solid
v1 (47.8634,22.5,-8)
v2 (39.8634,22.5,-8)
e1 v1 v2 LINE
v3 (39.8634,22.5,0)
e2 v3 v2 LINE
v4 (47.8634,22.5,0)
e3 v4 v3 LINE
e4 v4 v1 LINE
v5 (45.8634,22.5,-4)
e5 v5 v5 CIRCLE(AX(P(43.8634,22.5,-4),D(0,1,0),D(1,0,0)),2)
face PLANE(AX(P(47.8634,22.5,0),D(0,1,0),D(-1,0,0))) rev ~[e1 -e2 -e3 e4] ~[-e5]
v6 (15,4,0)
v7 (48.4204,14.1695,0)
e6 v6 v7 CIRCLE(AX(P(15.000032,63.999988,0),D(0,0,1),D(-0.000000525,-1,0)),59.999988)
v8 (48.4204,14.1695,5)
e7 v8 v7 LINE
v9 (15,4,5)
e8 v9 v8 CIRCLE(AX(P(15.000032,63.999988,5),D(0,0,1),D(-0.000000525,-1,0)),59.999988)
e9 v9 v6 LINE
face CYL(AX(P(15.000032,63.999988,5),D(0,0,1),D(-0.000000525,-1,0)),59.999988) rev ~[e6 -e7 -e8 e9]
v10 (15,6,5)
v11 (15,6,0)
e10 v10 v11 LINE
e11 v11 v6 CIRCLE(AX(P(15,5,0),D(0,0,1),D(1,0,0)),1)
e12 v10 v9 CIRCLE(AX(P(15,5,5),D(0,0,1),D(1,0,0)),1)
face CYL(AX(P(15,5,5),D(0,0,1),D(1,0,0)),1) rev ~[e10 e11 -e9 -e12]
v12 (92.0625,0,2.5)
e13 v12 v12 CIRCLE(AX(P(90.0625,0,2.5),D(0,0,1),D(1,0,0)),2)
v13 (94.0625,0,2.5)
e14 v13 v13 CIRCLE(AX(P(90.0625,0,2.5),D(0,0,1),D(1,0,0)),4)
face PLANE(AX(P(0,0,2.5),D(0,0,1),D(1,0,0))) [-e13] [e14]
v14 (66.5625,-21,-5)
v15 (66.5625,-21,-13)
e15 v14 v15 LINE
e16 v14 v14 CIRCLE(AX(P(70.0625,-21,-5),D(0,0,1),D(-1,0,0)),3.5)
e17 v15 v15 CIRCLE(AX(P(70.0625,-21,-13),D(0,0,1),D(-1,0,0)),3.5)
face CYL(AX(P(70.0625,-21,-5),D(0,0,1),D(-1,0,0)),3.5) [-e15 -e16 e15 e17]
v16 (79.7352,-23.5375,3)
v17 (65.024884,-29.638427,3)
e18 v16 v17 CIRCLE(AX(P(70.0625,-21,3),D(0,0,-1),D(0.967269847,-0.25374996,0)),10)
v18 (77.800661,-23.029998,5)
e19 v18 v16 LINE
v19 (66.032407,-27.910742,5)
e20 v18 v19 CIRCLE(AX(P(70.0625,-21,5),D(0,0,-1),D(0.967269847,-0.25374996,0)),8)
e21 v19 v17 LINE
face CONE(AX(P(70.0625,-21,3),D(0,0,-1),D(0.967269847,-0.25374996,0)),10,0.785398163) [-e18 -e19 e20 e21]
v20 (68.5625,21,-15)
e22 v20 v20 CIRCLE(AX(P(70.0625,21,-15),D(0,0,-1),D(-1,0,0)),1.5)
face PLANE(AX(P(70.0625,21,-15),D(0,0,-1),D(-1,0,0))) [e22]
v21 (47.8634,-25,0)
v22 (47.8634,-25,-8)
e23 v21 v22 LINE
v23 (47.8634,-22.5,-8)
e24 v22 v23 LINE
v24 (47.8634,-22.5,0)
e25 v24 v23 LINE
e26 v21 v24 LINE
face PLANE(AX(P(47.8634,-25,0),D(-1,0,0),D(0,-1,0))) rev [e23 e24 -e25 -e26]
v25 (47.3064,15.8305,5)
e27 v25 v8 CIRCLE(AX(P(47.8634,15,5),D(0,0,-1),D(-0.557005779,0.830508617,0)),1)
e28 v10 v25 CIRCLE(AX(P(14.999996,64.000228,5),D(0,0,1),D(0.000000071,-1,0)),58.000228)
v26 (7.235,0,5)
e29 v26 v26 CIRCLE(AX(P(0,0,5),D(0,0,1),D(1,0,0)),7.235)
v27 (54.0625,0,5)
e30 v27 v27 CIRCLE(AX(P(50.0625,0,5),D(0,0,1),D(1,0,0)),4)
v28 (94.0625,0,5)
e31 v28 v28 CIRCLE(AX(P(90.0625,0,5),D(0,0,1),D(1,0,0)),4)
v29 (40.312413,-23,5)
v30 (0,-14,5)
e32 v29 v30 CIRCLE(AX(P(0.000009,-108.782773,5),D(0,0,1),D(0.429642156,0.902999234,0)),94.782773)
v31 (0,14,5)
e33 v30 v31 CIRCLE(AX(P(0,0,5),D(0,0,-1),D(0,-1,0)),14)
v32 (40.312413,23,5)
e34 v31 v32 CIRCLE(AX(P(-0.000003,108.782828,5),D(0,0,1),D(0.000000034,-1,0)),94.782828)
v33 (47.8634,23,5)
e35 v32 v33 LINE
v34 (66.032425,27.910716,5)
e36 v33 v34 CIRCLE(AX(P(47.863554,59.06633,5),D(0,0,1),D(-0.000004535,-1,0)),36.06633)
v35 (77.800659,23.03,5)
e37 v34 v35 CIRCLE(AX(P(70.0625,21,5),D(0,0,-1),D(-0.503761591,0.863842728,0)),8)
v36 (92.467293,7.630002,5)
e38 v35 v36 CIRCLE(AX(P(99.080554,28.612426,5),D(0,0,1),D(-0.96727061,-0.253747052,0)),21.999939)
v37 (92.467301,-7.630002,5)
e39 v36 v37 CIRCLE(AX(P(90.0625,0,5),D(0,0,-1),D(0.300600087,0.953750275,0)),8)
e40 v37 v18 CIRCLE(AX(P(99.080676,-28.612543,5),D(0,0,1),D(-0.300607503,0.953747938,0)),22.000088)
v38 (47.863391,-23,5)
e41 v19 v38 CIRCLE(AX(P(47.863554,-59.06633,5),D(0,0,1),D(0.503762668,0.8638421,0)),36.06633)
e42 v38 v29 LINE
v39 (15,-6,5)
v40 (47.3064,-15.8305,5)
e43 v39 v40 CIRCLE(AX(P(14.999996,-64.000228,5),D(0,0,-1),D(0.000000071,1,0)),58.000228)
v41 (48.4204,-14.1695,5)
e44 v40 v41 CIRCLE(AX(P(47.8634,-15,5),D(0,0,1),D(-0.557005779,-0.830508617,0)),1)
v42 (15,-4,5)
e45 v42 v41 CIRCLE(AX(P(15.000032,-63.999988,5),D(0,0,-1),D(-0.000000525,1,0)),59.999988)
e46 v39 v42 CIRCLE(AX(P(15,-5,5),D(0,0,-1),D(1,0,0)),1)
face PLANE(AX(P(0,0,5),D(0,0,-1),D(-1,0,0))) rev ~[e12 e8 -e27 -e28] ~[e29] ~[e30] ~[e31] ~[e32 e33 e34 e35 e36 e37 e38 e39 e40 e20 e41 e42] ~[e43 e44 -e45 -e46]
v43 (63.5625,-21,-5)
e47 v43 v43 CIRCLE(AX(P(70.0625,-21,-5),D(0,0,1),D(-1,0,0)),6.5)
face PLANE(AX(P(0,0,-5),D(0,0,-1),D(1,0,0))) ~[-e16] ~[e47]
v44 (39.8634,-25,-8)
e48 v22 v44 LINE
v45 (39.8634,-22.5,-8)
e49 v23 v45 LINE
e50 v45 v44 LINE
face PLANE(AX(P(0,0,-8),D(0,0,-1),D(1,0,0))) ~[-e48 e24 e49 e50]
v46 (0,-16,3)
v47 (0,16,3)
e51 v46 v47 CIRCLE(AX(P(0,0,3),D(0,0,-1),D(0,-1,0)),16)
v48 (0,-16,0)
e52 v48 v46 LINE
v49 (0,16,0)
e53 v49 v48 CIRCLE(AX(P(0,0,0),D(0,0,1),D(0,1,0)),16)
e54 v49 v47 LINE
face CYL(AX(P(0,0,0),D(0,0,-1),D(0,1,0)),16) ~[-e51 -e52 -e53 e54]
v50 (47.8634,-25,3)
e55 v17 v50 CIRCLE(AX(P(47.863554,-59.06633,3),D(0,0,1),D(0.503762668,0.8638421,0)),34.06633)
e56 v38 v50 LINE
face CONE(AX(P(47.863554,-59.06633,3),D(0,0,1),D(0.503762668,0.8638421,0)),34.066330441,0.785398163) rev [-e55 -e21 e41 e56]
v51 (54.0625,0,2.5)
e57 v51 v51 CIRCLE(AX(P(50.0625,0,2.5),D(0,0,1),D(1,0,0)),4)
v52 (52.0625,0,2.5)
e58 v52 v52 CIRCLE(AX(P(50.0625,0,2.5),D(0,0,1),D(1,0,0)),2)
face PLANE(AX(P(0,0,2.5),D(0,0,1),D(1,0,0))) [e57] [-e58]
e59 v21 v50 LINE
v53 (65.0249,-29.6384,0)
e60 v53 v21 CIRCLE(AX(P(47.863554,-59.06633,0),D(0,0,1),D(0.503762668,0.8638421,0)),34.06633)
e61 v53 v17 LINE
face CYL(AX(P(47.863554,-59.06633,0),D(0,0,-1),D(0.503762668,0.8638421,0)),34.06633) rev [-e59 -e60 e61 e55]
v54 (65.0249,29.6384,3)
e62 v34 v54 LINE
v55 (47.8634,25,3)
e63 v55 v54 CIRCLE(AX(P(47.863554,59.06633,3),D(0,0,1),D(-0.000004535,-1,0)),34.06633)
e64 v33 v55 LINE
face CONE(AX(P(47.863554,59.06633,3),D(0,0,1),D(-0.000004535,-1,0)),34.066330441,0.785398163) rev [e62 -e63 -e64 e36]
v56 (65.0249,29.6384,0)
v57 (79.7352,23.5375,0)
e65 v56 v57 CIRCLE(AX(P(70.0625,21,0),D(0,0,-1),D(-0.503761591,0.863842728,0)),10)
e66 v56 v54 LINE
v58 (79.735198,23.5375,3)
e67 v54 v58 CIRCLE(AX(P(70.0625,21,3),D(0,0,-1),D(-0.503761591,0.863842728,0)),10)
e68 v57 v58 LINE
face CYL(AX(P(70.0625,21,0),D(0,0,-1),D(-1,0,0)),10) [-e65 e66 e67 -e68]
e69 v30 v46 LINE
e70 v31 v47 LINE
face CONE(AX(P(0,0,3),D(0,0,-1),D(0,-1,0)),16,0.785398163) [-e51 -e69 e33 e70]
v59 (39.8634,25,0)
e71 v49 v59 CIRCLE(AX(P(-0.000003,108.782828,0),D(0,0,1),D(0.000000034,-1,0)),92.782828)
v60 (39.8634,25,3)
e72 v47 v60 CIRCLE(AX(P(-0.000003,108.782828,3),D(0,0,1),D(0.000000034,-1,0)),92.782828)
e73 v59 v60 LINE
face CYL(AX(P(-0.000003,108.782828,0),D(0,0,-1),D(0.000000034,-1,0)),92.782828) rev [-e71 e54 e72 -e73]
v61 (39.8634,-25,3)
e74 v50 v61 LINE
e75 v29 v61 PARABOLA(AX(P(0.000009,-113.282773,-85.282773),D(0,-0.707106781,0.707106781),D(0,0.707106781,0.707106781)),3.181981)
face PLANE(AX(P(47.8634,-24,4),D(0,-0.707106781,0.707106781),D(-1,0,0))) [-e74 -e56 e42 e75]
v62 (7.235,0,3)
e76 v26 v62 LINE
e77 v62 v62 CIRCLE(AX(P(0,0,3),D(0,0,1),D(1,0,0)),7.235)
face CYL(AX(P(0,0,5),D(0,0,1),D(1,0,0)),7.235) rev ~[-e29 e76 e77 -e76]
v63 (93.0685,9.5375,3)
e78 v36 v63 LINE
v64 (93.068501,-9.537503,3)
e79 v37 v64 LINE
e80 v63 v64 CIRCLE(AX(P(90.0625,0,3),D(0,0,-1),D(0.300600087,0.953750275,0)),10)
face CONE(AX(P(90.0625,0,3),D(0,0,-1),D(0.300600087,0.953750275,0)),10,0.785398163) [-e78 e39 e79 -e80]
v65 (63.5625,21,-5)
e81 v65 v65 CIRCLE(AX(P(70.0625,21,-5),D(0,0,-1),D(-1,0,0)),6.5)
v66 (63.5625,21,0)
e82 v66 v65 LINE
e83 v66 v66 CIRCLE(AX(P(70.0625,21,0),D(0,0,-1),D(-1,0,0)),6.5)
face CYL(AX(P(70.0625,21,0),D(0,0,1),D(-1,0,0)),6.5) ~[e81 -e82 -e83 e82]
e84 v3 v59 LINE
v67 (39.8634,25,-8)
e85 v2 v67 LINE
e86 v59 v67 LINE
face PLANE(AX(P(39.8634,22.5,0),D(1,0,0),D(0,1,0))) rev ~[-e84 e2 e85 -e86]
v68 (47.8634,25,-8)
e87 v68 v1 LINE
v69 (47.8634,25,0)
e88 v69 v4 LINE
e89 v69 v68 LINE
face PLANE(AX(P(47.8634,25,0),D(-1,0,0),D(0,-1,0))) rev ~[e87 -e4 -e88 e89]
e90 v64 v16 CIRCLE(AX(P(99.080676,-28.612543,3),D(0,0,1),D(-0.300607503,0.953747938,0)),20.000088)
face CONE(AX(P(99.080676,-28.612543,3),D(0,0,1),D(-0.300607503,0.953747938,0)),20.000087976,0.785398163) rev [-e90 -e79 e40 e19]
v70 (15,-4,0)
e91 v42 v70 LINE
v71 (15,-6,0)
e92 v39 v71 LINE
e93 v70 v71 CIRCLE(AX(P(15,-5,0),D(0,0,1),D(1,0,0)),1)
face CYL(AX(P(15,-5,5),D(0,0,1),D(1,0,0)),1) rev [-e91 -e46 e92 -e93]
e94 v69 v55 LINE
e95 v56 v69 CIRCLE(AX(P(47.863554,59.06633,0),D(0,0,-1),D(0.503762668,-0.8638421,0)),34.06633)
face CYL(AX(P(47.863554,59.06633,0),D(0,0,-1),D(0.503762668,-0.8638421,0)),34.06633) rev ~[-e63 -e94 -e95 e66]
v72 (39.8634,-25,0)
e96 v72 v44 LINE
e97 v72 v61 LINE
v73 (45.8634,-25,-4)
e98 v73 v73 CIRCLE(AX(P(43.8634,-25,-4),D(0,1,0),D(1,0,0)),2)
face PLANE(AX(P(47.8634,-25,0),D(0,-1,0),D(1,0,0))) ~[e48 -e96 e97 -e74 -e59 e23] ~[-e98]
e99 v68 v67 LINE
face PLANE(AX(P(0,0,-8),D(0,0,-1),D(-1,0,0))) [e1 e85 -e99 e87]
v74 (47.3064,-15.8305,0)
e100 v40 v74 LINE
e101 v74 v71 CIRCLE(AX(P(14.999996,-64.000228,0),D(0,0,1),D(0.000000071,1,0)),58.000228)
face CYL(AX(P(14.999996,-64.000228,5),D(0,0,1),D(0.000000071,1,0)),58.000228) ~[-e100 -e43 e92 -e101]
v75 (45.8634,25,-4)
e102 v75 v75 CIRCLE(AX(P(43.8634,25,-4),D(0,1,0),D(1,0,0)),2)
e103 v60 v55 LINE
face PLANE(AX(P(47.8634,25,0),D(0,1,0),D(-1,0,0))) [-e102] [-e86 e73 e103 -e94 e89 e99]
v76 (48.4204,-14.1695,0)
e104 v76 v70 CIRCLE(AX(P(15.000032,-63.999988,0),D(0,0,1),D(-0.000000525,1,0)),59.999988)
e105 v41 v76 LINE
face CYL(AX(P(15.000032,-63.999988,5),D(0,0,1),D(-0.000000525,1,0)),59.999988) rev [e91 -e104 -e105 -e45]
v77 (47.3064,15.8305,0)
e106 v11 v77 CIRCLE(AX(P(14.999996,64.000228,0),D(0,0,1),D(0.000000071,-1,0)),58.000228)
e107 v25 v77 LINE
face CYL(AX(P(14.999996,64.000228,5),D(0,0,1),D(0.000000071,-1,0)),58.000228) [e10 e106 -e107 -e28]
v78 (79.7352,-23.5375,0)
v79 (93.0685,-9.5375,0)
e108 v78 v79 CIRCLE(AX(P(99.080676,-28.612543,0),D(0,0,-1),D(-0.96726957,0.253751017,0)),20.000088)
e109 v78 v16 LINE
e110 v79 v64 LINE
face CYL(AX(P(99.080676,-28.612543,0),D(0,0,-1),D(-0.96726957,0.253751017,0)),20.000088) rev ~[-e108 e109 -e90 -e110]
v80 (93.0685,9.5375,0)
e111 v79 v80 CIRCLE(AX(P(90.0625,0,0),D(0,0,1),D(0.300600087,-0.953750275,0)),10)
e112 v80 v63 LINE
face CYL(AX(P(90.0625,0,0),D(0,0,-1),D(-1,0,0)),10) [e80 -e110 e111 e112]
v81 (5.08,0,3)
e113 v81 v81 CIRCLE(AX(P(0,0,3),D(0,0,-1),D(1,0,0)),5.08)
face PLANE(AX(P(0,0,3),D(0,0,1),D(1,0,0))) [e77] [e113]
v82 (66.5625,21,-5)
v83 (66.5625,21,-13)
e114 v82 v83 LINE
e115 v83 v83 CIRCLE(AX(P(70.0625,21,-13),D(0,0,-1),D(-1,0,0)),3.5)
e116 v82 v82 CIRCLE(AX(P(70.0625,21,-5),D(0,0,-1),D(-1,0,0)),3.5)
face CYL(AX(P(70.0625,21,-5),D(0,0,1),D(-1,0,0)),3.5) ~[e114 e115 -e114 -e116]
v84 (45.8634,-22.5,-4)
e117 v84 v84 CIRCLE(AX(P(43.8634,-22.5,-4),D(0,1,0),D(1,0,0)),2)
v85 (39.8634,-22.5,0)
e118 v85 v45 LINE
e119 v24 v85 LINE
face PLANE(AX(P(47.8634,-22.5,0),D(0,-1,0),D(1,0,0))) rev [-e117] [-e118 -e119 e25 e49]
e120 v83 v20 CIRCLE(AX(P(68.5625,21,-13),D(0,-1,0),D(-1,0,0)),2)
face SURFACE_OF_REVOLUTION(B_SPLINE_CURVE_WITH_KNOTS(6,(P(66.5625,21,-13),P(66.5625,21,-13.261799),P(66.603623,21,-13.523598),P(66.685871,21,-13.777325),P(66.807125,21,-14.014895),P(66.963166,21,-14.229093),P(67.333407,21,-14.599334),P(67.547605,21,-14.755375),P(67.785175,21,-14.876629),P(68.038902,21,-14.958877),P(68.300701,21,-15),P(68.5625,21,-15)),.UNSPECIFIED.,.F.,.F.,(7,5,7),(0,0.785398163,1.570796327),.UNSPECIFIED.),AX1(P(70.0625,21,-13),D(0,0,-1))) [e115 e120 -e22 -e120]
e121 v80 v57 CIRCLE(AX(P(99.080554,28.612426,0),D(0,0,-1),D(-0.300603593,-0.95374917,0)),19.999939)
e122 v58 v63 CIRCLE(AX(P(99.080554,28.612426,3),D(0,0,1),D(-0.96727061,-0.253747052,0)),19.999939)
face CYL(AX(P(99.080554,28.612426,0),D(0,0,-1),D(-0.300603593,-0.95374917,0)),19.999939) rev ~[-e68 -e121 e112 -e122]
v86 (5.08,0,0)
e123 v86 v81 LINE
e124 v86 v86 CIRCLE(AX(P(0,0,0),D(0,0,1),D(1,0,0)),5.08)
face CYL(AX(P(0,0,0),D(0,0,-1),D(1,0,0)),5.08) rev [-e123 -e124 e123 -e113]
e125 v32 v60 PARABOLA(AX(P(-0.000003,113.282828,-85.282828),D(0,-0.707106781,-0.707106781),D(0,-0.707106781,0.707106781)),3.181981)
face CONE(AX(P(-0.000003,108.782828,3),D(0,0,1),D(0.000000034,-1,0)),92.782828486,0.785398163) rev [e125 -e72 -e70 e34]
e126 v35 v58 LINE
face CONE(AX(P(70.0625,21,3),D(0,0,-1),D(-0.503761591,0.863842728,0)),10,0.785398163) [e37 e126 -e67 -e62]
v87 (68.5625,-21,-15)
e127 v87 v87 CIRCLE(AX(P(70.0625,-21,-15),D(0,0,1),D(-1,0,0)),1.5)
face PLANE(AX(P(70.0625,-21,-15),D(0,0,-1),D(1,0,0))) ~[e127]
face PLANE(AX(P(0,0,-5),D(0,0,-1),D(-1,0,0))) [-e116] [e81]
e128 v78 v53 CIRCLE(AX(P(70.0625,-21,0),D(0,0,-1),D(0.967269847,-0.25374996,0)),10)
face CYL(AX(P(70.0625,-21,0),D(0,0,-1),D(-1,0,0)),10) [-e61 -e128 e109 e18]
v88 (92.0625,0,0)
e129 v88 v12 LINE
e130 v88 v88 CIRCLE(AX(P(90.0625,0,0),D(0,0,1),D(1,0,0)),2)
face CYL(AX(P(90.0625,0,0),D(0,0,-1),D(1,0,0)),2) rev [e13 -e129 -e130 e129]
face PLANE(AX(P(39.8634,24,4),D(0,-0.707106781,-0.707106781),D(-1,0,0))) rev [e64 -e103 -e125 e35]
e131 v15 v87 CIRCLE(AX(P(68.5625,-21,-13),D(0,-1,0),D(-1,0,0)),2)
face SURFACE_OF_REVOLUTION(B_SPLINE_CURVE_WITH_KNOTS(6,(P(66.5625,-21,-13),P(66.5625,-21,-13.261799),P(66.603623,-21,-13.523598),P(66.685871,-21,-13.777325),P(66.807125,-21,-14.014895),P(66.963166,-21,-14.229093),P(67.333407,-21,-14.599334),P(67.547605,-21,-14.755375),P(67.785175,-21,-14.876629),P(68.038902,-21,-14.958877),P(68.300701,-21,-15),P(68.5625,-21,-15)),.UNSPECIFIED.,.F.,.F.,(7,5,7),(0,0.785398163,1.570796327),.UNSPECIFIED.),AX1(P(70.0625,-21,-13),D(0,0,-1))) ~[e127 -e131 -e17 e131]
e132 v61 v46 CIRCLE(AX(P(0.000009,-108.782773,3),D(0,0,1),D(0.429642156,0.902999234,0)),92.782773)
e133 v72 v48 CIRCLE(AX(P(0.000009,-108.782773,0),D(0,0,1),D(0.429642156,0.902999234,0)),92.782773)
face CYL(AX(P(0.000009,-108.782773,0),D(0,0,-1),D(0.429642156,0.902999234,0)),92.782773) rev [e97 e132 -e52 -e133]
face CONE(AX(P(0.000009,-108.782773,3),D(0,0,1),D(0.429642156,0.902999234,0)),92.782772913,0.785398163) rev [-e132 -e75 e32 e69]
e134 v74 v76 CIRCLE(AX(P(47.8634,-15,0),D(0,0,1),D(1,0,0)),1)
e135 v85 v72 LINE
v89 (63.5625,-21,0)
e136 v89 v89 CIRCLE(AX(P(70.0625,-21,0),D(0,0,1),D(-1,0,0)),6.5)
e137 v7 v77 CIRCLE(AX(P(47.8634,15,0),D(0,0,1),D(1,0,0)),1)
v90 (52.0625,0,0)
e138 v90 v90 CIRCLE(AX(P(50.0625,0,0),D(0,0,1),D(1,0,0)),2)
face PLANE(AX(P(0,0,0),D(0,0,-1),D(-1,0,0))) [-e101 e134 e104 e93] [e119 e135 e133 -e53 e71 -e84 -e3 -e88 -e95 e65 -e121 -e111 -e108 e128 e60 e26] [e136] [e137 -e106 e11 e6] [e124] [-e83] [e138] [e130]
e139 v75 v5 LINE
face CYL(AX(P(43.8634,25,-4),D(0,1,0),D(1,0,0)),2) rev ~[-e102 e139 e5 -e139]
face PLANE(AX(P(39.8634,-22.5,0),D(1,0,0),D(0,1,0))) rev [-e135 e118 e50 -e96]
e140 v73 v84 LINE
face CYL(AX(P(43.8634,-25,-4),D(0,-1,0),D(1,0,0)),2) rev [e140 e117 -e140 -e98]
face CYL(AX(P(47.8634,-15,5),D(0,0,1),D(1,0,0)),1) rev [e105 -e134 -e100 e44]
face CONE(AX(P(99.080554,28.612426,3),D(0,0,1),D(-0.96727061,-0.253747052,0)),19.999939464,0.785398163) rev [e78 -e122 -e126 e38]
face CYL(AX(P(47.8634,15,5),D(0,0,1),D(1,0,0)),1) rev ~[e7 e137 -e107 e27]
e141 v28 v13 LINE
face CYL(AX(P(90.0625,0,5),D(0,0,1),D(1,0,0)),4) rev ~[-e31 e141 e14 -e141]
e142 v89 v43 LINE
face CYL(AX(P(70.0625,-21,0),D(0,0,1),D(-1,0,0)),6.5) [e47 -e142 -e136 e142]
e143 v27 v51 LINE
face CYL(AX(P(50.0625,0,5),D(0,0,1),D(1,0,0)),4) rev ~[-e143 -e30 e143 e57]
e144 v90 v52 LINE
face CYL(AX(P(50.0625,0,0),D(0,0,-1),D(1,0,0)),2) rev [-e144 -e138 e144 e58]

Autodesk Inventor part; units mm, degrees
ref_plane "YZ Plane" through (0, 0, 0) normal (1, 0, 0) x (0, 1, 0)
ref_plane "XZ Plane" through (0, 0, 0) normal (0, 1, 0) x (-1, 0, 0)
ref_plane "XY Plane" through (0, 0, 0) normal (0, 0, 1) x (1, 0, 0)
sketch "Sketch1" plane through (0, 0, 0) normal (0, 0, 1) x (1, 0, 0)
  circle A0 centre (0, 0) radius 5.08
  arc A1 (0, 16) -> (0, -16) centre (0, 0) ccw
  line L0 (0, 16) -> (99.4033, 16)
  line L1 (99.4033, 16) -> (99.4033, -16)
  line L2 (99.4033, -16) -> (0, -16)
  line L3 (0, -16) -> (0, 16) construction
  line L4 (39.8634, 25) -> (99.4033, 25)
  line L5 (99.4033, 25) -> (99.4033, -25)
  line L6 (99.4033, -25) -> (39.8634, -25)
  line L7 (39.8634, -25) -> (39.8634, 25)
  arc A2 (39.8634, -25) -> (0, -16) centre (0, -108.7828) ccw
  arc A3 (0, 16) -> (39.8634, 25) centre (0, 108.7828) ccw
  circle A4 centre (50.0625, 0) radius 2
  circle A5 centre (90.0625, 0) radius 2
  line L8 (-16, 0) -> (99.4033, 0) construction
  point P0 (39.8634, 0)
  dimension "d1" = 10.16
  dimension "d3" = 50
  dimension "d4" = 59.5399
  dimension "d12" = 4
  dimension "d13" = 40
  dimension "d14" = 50.0625
  dimension "d15" = 9.3408
  dimension "d44" = 16
extrude "Extrusion1" add sketch "Sketch1" along normal blind 5
ref_plane "Work Plane1" through (39.8634, 0, 0) normal (0, -1, 0) x (1, 0, 0)
sketch "Sketch4" plane through (0, 0, 5) normal (0, 0, 1) x (1, 0, 0)
  arc A0 (15, 6) -> (47.3064, 15.8305) centre (15, 64.0002) ccw
  arc A1 (15, 4) -> (48.4204, 14.1695) centre (15, 64.0002) ccw
  circle A2 centre (47.8634, 15) radius 1
  circle A3 centre (15, 5) radius 1
  arc A4 (0, 16) -> (39.8634, 25) centre (0, 108.7828) ccw projected
  line L0 (99.4033, 25) -> (39.8634, 25) projected
  line L1 (122.484, 0) -> (-39.0807, 0) projected
  line L2 (15, 4) -> (47.8634, 4) construction
  point P0 (0, 0)
  dimension "d16" = 2
  dimension "d17" = 10
  dimension "d18" = 8
  dimension "d19" = 15
  dimension "d20" = 5
extrude "Extrusion3" cut sketch "Sketch4" against normal through all
mirror "Mirror1" about plane through (39.8634, 0, 0) normal (0, -1, 0) of "Extrusion3"
sketch "Sketch5" plane through (0, 0, 0) normal (0, 0, -1) x (-1, 0, 0)
  arc A0 (-15, -4) -> (-48.4204, -14.1695) centre (-15, -64.0002) ccw projected
  arc A1 (-15, -6) -> (-15, -4) centre (-15, -5) ccw projected
  arc A2 (-15, -6) -> (-47.3064, -15.8305) centre (-15, -64.0002) ccw projected
  arc A3 (-48.4204, -14.1695) -> (-47.3064, -15.8305) centre (-47.8634, -15) ccw projected
  arc A4 (-47.3064, 15.8305) -> (-15, 6) centre (-15, 64.0002) ccw projected
  arc A5 (-15, 4) -> (-15, 6) centre (-15, 5) ccw projected
  arc A6 (-48.4204, 14.1695) -> (-15, 4) centre (-15, 64.0002) ccw projected
  arc A7 (-47.3064, 15.8305) -> (-48.4204, 14.1695) centre (-47.8634, 15) ccw projected
  arc A8 (0, -16) -> (0, 16) centre (0, 0) ccw projected
  arc A9 (-39.8634, 25) -> (0, 16) centre (0, 108.7828) ccw projected
  line L0 (-99.4033, 25) -> (-39.8634, 25) projected
  line L1 (-99.4033, -25) -> (-99.4033, 25) projected
  line L2 (-39.8634, -25) -> (-99.4033, -25) projected
  arc A10 (0, -16) -> (-39.8634, -25) centre (0, -108.7828) ccw projected
  circle A11 centre (-50.0625, 0) radius 2 projected
  circle A12 centre (-90.0625, 0) radius 2 projected
  circle A13 centre (0, 0) radius 5.08 projected
  line L3 (-39.8634, 25) -> (-47.8634, 25)
  line L4 (-47.8634, 25) -> (-47.8634, 22.5)
  line L5 (-47.8634, 22.5) -> (-39.8634, 22.5)
  line L6 (-39.8634, 22.5) -> (-39.8634, 25)
  dimension "d23" = 8
  dimension "d24" = 2.5
extrude "Extrusion4" add sketch "Sketch5" along normal blind 8 contours L6 L5 L4 L0
sketch "Sketch6" plane through (39.8634, 25, 5) normal (0, 1, 0) x (1, 0, 0)
  line L0 (59.5399, 5) -> (8, 5) projected
  line L1 (8, 5) -> (8, 13) projected
  line L2 (0, 13) -> (8, 13) projected
  line L3 (0, 5) -> (0, 13) projected
  line L4 (0, 5) -> (0, 0) projected
  line L5 (59.5399, 0) -> (0, 0) projected
  line L6 (59.5399, 5) -> (59.5399, 0) projected
  circle A0 centre (4, 9) radius 2
  line L7 (4, 13) -> (4, 9) construction
  point P0 (-39.8634, 5)
  dimension "d27" = 4
  dimension "d28" = 4
extrude "Extrusion5" cut sketch "Sketch6" against normal up to next contours A0
mirror "Mirror2" about plane through (39.8634, 0, 0) normal (0, -1, 0) of "Extrusion4", "Extrusion5"
sketch "Sketch7" plane through (0, 0, 0) normal (0, 0, -1) x (-1, 0, 0)
  circle A0 centre (0, 0) radius 5.08 projected
  circle A1 centre (-90.0625, 0) radius 2 projected
  circle A2 centre (-50.0625, 0) radius 2 projected
  arc A3 (-47.3064, 15.8305) -> (-15, 6) centre (-15, 64.0002) ccw projected
  arc A4 (-15, 4) -> (-15, 6) centre (-15, 5) ccw projected
  arc A5 (-48.4204, 14.1695) -> (-15, 4) centre (-15, 64.0002) ccw projected
  arc A6 (-47.3064, 15.8305) -> (-48.4204, 14.1695) centre (-47.8634, 15) ccw projected
  arc A7 (-15, -4) -> (-48.4204, -14.1695) centre (-15, -64.0002) ccw projected
  arc A8 (-15, -6) -> (-15, -4) centre (-15, -5) ccw projected
  arc A9 (-15, -6) -> (-47.3064, -15.8305) centre (-15, -64.0002) ccw projected
  arc A10 (-48.4204, -14.1695) -> (-47.3064, -15.8305) centre (-47.8634, -15) ccw projected
  line L0 (-47.8634, -25) -> (-47.8634, -22.5) projected
  line L1 (-47.8634, -22.5) -> (-39.8634, -22.5) projected
  line L2 (-39.8634, -22.5) -> (-39.8634, -25) projected
  arc A11 (0, -16) -> (-39.8634, -25) centre (0, -108.7828) ccw projected
  arc A12 (0, -16) -> (0, 16) centre (0, 0) ccw projected
  arc A13 (-39.8634, 25) -> (0, 16) centre (0, 108.7828) ccw projected
  line L3 (-39.8634, 25) -> (-39.8634, 22.5) projected
  line L4 (-39.8634, 22.5) -> (-47.8634, 22.5) projected
  line L5 (-47.8634, 22.5) -> (-47.8634, 25) projected
  line L6 (-99.4033, 25) -> (-47.8634, 25) projected
  line L7 (-99.4033, -25) -> (-99.4033, 25) projected
  line L8 (-47.8634, -25) -> (-99.4033, -25) projected
  circle A14 centre (-70.0625, 21) radius 10
  arc A15 (-65.0249, 29.6384) -> (-47.8634, 25) centre (-47.8634, 59.0667) ccw
  line L9 (-99.4033, 25) -> (-47.8634, 25) projected
  line L10 (39.0807, 0) -> (-122.484, 0) projected
  line L11 (-70.0625, -25) -> (-70.0625, 21) construction
  line L12 (-90.0625, 0) -> (-50.0625, 0) construction
  line L13 (0, 16) -> (-99.4033, 16) construction
  arc A16 (-99.4033, 16) -> (-78.1686, 26.8559) centre (-99.4033, 42.1961) ccw
  point P0 (-92.2616, 25)
  point P1 (-75.1001, 29.6384)
  point P2 (-70.0625, 0)
  point P3 (-60.8973, 25)
  point P4 (-79.2277, 25)
  point P5 (-79.6415, 25)
  dimension "d31" = 20
  dimension "d32" = 21
extrude "Extrusion6" add sketch "Sketch7" against normal up to surface (5 mm away) contours L6 A14 A15 | L6 A14 | A16 A14 L6 picked at (-67.4658, 26.7505)
sketch "Sketch8" plane through (0, 0, 0) normal (0, 0, -1) x (-1, 0, 0)
  circle A0 centre (0, 0) radius 5.08 projected
  circle A1 centre (-90.0625, 0) radius 2 projected
  circle A2 centre (-50.0625, 0) radius 2 projected
  arc A3 (-47.3064, 15.8305) -> (-15, 6) centre (-15, 64.0002) ccw projected
  arc A4 (-15, 4) -> (-15, 6) centre (-15, 5) ccw projected
  arc A5 (-48.4204, 14.1695) -> (-15, 4) centre (-15, 64.0002) ccw projected
  arc A6 (-47.3064, 15.8305) -> (-48.4204, 14.1695) centre (-47.8634, 15) ccw projected
  arc A7 (-15, -4) -> (-48.4204, -14.1695) centre (-15, -64.0002) ccw projected
  arc A8 (-15, -6) -> (-15, -4) centre (-15, -5) ccw projected
  arc A9 (-15, -6) -> (-47.3064, -15.8305) centre (-15, -64.0002) ccw projected
  arc A10 (-48.4204, -14.1695) -> (-47.3064, -15.8305) centre (-47.8634, -15) ccw projected
  line L0 (-47.8634, -25) -> (-47.8634, -22.5) projected
  line L1 (-47.8634, -22.5) -> (-39.8634, -22.5) projected
  line L2 (-39.8634, -22.5) -> (-39.8634, -25) projected
  arc A11 (0, -16) -> (-39.8634, -25) centre (0, -108.7828) ccw projected
  arc A12 (0, -16) -> (0, 16) centre (0, 0) ccw projected
  arc A13 (-39.8634, 25) -> (0, 16) centre (0, 108.7828) ccw projected
  line L3 (-39.8634, 25) -> (-39.8634, 22.5) projected
  line L4 (-39.8634, 22.5) -> (-47.8634, 22.5) projected
  line L5 (-47.8634, 22.5) -> (-47.8634, 25) projected
  arc A14 (-65.0249, 29.6384) -> (-47.8634, 25) centre (-47.8634, 59.0667) ccw projected
  arc A15 (-65.0249, 29.6384) -> (-78.1686, 26.8559) centre (-70.0625, 21) ccw projected
  line L6 (-99.4033, 25) -> (-79.6415, 25) projected
  line L7 (-99.4033, -25) -> (-99.4033, 25) projected
  line L8 (-47.8634, -25) -> (-99.4033, -25) projected
  circle A16 centre (-70.0625, 21) radius 6.5
  arc A17 (-79.6415, 25) -> (-78.1686, 26.8559) centre (-99.4033, 42.1961) ccw projected
  dimension "d35" = 13
extrude "Extrusion7" add sketch "Sketch8" along normal blind 5 contours A16
sketch "Sketch9" plane through (70.0625, 21, -5) normal (0, 0, -1) x (-1, 0, 0)
  circle A0 centre (0, 0) radius 3.5
  circle A1 centre (0, 0) radius 6.5 projected
  point P0 (70.0625, -21)
  dimension "d38" = 7
extrude "Extrusion8" add sketch "Sketch9" along normal blind 10 contours A0
fillet "Fillet1" radius 2 1 edges at (73.5625, 21, -15)
extrude "Extrusion9" cut sketch "Sketch7" against normal through all contours L7 L6 A16
mirror "Mirror3" about plane through (39.8634, 0, 0) normal (0, -1, 0) of "Extrusion6", "Extrusion7", "Extrusion8", "Fillet1", "Extrusion9"
sketch "Sketch10" plane through (0, 0, 5) normal (0, 0, 1) x (1, 0, 0)
  arc A0 (48.4204, -14.1695) -> (15, -4) centre (15, -64.0002) ccw projected
  arc A1 (47.3064, -15.8305) -> (48.4204, -14.1695) centre (47.8634, -15) ccw projected
  arc A2 (47.3064, -15.8305) -> (15, -6) centre (15, -64.0002) ccw projected
  arc A3 (15, -4) -> (15, -6) centre (15, -5) ccw projected
  arc A4 (15, 6) -> (47.3064, 15.8305) centre (15, 64.0002) ccw projected
  arc A5 (48.4204, 14.1695) -> (47.3064, 15.8305) centre (47.8634, 15) ccw projected
  arc A6 (15, 4) -> (48.4204, 14.1695) centre (15, 64.0002) ccw projected
  arc A7 (15, 6) -> (15, 4) centre (15, 5) ccw projected
  arc A8 (99.4033, -16) -> (78.1686, -26.8559) centre (99.4033, -42.1961) ccw projected
  line L0 (99.4033, -16) -> (99.4033, 16) projected
  arc A9 (78.1686, 26.8559) -> (99.4033, 16) centre (99.4033, 42.1961) ccw projected
  line L1 (47.8634, 25) -> (39.8634, 25) projected
  arc A10 (78.1686, 26.8559) -> (65.0249, 29.6384) centre (70.0625, 21) ccw projected
  arc A11 (47.8634, 25) -> (65.0249, 29.6384) centre (47.8634, 59.0667) ccw projected
  arc A12 (0, 16) -> (39.8634, 25) centre (0, 108.7828) ccw projected
  arc A13 (0, 16) -> (0, -16) centre (0, 0) ccw projected
  arc A14 (39.8634, -25) -> (0, -16) centre (0, -108.7828) ccw projected
  line L2 (39.8634, -25) -> (47.8634, -25) projected
  arc A15 (65.0249, -29.6384) -> (47.8634, -25) centre (47.8634, -59.0667) ccw projected
  arc A16 (65.0249, -29.6384) -> (78.1686, -26.8559) centre (70.0625, -21) ccw projected
  circle A17 centre (50.0625, 0) radius 2 projected
  circle A18 centre (90.0625, 0) radius 2 projected
  circle A19 centre (0, 0) radius 5.08 projected
  circle A20 centre (50.0625, 0) radius 4
  circle A21 centre (90.0625, 0) radius 4
  dimension "d45" = 8
extrude "Extrusion10" cut sketch "Sketch10" against normal blind 2.5 contours A20 | A21
sketch "Sketch11" plane through (0, 0, 5) normal (0, 0, 1) x (1, 0, 0)
  circle A0 centre (0, 0) radius 7.235
  dimension "d48" = 14.47
extrude "Extrusion11" cut sketch "Sketch11" against normal blind 2
sketch "Sketch12" plane through (0, 0, 0) normal (0, 0, -1) x (-1, 0, 0)
  circle A0 centre (-70.0625, 21) radius 1.5 projected
  circle A1 centre (-70.0625, 21) radius 10
  circle A2 centre (-90.0625, 0) radius 2 projected
  circle A3 centre (-90.0625, 0) radius 10
  circle A4 centre (-70.0625, -21) radius 1.5 projected
  circle A5 centre (-70.0625, -21) radius 10
  circle A6 centre (-90.0625, 0) radius 2
  arc A7 (-79.7352, -23.5375) -> (-93.0685, -9.5375) centre (-99.0806, -28.6125) ccw
  arc A8 (-93.0685, 9.5375) -> (-79.7352, 23.5375) centre (-99.0806, 28.6125) ccw
  arc A9 (-78.1686, -26.8559) -> (-99.4033, -16) centre (-99.4033, -42.1961) ccw projected
  arc A10 (-78.1686, -26.8559) -> (-65.0249, -29.6384) centre (-70.0625, -21) ccw projected
  arc A11 (-47.8634, -25) -> (-65.0249, -29.6384) centre (-47.8634, -59.0667) ccw projected
  line L0 (-47.8634, -25) -> (-47.8634, -22.5) projected
  line L1 (-47.8634, -22.5) -> (-39.8634, -22.5) projected
  line L2 (-39.8634, -22.5) -> (-39.8634, -25) projected
  arc A12 (0, -16) -> (-39.8634, -25) centre (0, -108.7828) ccw projected
  arc A13 (0, -16) -> (0, 16) centre (0, 0) ccw projected
  arc A14 (-39.8634, 25) -> (0, 16) centre (0, 108.7828) ccw projected
  line L3 (-39.8634, 25) -> (-39.8634, 22.5) projected
  line L4 (-39.8634, 22.5) -> (-47.8634, 22.5) projected
  line L5 (-47.8634, 22.5) -> (-47.8634, 25) projected
  arc A15 (-65.0249, 29.6384) -> (-47.8634, 25) centre (-47.8634, 59.0667) ccw projected
  arc A16 (-65.0249, 29.6384) -> (-78.1686, 26.8559) centre (-70.0625, 21) ccw projected
  arc A17 (-99.4033, 16) -> (-78.1686, 26.8559) centre (-99.4033, 42.1961) ccw projected
  line L6 (-99.4033, -16) -> (-99.4033, 16) projected
  circle A18 centre (-70.0625, -21) radius 6.5 projected
  circle A19 centre (-70.0625, 21) radius 6.5 projected
  circle A20 centre (0, 0) radius 5.08 projected
  circle A21 centre (-90.0625, 0) radius 2 projected
  circle A22 centre (-50.0625, 0) radius 2 projected
  arc A23 (-47.3064, 15.8305) -> (-15, 6) centre (-15, 64.0002) ccw projected
  arc A24 (-15, 4) -> (-15, 6) centre (-15, 5) ccw projected
  arc A25 (-48.4204, 14.1695) -> (-15, 4) centre (-15, 64.0002) ccw projected
  arc A26 (-47.3064, 15.8305) -> (-48.4204, 14.1695) centre (-47.8634, 15) ccw projected
  arc A27 (-15, -4) -> (-48.4204, -14.1695) centre (-15, -64.0002) ccw projected
  arc A28 (-15, -6) -> (-15, -4) centre (-15, -5) ccw projected
  arc A29 (-15, -6) -> (-47.3064, -15.8305) centre (-15, -64.0002) ccw projected
  arc A30 (-48.4204, -14.1695) -> (-47.3064, -15.8305) centre (-47.8634, -15) ccw projected
  point P0 (-99.4033, -3.5706)
  point P1 (-99.4033, 3.5706)
  dimension "d54" = 20
  dimension "d56" = 20
  dimension "d55" = 20
  dimension "d57" = 4
  dimension "d58" = 20
  dimension "d59" = 20
extrude "Extrusion12" cut sketch "Sketch12" against normal blind 10 contours A8 A3 L6 A17 A1 | A7 A5 A9 L6 A3
extrude "Extrusion13" add sketch "Sketch12" against normal up to surface (5 mm away) contours L6 A3 picked at (-99.5984, 0.4047)
chamfer "Chamfer1" distance 2 angle 45 5 edges at (20.4334, 18.278, 5) (-16, 0, 5) (20.4334, -18.278, 5) (43.8634, 25, 5) (43.8634, -25, 5)
equation "\"d59\" = d58"
properties part number "Bearing_Arm_3DPrint"
